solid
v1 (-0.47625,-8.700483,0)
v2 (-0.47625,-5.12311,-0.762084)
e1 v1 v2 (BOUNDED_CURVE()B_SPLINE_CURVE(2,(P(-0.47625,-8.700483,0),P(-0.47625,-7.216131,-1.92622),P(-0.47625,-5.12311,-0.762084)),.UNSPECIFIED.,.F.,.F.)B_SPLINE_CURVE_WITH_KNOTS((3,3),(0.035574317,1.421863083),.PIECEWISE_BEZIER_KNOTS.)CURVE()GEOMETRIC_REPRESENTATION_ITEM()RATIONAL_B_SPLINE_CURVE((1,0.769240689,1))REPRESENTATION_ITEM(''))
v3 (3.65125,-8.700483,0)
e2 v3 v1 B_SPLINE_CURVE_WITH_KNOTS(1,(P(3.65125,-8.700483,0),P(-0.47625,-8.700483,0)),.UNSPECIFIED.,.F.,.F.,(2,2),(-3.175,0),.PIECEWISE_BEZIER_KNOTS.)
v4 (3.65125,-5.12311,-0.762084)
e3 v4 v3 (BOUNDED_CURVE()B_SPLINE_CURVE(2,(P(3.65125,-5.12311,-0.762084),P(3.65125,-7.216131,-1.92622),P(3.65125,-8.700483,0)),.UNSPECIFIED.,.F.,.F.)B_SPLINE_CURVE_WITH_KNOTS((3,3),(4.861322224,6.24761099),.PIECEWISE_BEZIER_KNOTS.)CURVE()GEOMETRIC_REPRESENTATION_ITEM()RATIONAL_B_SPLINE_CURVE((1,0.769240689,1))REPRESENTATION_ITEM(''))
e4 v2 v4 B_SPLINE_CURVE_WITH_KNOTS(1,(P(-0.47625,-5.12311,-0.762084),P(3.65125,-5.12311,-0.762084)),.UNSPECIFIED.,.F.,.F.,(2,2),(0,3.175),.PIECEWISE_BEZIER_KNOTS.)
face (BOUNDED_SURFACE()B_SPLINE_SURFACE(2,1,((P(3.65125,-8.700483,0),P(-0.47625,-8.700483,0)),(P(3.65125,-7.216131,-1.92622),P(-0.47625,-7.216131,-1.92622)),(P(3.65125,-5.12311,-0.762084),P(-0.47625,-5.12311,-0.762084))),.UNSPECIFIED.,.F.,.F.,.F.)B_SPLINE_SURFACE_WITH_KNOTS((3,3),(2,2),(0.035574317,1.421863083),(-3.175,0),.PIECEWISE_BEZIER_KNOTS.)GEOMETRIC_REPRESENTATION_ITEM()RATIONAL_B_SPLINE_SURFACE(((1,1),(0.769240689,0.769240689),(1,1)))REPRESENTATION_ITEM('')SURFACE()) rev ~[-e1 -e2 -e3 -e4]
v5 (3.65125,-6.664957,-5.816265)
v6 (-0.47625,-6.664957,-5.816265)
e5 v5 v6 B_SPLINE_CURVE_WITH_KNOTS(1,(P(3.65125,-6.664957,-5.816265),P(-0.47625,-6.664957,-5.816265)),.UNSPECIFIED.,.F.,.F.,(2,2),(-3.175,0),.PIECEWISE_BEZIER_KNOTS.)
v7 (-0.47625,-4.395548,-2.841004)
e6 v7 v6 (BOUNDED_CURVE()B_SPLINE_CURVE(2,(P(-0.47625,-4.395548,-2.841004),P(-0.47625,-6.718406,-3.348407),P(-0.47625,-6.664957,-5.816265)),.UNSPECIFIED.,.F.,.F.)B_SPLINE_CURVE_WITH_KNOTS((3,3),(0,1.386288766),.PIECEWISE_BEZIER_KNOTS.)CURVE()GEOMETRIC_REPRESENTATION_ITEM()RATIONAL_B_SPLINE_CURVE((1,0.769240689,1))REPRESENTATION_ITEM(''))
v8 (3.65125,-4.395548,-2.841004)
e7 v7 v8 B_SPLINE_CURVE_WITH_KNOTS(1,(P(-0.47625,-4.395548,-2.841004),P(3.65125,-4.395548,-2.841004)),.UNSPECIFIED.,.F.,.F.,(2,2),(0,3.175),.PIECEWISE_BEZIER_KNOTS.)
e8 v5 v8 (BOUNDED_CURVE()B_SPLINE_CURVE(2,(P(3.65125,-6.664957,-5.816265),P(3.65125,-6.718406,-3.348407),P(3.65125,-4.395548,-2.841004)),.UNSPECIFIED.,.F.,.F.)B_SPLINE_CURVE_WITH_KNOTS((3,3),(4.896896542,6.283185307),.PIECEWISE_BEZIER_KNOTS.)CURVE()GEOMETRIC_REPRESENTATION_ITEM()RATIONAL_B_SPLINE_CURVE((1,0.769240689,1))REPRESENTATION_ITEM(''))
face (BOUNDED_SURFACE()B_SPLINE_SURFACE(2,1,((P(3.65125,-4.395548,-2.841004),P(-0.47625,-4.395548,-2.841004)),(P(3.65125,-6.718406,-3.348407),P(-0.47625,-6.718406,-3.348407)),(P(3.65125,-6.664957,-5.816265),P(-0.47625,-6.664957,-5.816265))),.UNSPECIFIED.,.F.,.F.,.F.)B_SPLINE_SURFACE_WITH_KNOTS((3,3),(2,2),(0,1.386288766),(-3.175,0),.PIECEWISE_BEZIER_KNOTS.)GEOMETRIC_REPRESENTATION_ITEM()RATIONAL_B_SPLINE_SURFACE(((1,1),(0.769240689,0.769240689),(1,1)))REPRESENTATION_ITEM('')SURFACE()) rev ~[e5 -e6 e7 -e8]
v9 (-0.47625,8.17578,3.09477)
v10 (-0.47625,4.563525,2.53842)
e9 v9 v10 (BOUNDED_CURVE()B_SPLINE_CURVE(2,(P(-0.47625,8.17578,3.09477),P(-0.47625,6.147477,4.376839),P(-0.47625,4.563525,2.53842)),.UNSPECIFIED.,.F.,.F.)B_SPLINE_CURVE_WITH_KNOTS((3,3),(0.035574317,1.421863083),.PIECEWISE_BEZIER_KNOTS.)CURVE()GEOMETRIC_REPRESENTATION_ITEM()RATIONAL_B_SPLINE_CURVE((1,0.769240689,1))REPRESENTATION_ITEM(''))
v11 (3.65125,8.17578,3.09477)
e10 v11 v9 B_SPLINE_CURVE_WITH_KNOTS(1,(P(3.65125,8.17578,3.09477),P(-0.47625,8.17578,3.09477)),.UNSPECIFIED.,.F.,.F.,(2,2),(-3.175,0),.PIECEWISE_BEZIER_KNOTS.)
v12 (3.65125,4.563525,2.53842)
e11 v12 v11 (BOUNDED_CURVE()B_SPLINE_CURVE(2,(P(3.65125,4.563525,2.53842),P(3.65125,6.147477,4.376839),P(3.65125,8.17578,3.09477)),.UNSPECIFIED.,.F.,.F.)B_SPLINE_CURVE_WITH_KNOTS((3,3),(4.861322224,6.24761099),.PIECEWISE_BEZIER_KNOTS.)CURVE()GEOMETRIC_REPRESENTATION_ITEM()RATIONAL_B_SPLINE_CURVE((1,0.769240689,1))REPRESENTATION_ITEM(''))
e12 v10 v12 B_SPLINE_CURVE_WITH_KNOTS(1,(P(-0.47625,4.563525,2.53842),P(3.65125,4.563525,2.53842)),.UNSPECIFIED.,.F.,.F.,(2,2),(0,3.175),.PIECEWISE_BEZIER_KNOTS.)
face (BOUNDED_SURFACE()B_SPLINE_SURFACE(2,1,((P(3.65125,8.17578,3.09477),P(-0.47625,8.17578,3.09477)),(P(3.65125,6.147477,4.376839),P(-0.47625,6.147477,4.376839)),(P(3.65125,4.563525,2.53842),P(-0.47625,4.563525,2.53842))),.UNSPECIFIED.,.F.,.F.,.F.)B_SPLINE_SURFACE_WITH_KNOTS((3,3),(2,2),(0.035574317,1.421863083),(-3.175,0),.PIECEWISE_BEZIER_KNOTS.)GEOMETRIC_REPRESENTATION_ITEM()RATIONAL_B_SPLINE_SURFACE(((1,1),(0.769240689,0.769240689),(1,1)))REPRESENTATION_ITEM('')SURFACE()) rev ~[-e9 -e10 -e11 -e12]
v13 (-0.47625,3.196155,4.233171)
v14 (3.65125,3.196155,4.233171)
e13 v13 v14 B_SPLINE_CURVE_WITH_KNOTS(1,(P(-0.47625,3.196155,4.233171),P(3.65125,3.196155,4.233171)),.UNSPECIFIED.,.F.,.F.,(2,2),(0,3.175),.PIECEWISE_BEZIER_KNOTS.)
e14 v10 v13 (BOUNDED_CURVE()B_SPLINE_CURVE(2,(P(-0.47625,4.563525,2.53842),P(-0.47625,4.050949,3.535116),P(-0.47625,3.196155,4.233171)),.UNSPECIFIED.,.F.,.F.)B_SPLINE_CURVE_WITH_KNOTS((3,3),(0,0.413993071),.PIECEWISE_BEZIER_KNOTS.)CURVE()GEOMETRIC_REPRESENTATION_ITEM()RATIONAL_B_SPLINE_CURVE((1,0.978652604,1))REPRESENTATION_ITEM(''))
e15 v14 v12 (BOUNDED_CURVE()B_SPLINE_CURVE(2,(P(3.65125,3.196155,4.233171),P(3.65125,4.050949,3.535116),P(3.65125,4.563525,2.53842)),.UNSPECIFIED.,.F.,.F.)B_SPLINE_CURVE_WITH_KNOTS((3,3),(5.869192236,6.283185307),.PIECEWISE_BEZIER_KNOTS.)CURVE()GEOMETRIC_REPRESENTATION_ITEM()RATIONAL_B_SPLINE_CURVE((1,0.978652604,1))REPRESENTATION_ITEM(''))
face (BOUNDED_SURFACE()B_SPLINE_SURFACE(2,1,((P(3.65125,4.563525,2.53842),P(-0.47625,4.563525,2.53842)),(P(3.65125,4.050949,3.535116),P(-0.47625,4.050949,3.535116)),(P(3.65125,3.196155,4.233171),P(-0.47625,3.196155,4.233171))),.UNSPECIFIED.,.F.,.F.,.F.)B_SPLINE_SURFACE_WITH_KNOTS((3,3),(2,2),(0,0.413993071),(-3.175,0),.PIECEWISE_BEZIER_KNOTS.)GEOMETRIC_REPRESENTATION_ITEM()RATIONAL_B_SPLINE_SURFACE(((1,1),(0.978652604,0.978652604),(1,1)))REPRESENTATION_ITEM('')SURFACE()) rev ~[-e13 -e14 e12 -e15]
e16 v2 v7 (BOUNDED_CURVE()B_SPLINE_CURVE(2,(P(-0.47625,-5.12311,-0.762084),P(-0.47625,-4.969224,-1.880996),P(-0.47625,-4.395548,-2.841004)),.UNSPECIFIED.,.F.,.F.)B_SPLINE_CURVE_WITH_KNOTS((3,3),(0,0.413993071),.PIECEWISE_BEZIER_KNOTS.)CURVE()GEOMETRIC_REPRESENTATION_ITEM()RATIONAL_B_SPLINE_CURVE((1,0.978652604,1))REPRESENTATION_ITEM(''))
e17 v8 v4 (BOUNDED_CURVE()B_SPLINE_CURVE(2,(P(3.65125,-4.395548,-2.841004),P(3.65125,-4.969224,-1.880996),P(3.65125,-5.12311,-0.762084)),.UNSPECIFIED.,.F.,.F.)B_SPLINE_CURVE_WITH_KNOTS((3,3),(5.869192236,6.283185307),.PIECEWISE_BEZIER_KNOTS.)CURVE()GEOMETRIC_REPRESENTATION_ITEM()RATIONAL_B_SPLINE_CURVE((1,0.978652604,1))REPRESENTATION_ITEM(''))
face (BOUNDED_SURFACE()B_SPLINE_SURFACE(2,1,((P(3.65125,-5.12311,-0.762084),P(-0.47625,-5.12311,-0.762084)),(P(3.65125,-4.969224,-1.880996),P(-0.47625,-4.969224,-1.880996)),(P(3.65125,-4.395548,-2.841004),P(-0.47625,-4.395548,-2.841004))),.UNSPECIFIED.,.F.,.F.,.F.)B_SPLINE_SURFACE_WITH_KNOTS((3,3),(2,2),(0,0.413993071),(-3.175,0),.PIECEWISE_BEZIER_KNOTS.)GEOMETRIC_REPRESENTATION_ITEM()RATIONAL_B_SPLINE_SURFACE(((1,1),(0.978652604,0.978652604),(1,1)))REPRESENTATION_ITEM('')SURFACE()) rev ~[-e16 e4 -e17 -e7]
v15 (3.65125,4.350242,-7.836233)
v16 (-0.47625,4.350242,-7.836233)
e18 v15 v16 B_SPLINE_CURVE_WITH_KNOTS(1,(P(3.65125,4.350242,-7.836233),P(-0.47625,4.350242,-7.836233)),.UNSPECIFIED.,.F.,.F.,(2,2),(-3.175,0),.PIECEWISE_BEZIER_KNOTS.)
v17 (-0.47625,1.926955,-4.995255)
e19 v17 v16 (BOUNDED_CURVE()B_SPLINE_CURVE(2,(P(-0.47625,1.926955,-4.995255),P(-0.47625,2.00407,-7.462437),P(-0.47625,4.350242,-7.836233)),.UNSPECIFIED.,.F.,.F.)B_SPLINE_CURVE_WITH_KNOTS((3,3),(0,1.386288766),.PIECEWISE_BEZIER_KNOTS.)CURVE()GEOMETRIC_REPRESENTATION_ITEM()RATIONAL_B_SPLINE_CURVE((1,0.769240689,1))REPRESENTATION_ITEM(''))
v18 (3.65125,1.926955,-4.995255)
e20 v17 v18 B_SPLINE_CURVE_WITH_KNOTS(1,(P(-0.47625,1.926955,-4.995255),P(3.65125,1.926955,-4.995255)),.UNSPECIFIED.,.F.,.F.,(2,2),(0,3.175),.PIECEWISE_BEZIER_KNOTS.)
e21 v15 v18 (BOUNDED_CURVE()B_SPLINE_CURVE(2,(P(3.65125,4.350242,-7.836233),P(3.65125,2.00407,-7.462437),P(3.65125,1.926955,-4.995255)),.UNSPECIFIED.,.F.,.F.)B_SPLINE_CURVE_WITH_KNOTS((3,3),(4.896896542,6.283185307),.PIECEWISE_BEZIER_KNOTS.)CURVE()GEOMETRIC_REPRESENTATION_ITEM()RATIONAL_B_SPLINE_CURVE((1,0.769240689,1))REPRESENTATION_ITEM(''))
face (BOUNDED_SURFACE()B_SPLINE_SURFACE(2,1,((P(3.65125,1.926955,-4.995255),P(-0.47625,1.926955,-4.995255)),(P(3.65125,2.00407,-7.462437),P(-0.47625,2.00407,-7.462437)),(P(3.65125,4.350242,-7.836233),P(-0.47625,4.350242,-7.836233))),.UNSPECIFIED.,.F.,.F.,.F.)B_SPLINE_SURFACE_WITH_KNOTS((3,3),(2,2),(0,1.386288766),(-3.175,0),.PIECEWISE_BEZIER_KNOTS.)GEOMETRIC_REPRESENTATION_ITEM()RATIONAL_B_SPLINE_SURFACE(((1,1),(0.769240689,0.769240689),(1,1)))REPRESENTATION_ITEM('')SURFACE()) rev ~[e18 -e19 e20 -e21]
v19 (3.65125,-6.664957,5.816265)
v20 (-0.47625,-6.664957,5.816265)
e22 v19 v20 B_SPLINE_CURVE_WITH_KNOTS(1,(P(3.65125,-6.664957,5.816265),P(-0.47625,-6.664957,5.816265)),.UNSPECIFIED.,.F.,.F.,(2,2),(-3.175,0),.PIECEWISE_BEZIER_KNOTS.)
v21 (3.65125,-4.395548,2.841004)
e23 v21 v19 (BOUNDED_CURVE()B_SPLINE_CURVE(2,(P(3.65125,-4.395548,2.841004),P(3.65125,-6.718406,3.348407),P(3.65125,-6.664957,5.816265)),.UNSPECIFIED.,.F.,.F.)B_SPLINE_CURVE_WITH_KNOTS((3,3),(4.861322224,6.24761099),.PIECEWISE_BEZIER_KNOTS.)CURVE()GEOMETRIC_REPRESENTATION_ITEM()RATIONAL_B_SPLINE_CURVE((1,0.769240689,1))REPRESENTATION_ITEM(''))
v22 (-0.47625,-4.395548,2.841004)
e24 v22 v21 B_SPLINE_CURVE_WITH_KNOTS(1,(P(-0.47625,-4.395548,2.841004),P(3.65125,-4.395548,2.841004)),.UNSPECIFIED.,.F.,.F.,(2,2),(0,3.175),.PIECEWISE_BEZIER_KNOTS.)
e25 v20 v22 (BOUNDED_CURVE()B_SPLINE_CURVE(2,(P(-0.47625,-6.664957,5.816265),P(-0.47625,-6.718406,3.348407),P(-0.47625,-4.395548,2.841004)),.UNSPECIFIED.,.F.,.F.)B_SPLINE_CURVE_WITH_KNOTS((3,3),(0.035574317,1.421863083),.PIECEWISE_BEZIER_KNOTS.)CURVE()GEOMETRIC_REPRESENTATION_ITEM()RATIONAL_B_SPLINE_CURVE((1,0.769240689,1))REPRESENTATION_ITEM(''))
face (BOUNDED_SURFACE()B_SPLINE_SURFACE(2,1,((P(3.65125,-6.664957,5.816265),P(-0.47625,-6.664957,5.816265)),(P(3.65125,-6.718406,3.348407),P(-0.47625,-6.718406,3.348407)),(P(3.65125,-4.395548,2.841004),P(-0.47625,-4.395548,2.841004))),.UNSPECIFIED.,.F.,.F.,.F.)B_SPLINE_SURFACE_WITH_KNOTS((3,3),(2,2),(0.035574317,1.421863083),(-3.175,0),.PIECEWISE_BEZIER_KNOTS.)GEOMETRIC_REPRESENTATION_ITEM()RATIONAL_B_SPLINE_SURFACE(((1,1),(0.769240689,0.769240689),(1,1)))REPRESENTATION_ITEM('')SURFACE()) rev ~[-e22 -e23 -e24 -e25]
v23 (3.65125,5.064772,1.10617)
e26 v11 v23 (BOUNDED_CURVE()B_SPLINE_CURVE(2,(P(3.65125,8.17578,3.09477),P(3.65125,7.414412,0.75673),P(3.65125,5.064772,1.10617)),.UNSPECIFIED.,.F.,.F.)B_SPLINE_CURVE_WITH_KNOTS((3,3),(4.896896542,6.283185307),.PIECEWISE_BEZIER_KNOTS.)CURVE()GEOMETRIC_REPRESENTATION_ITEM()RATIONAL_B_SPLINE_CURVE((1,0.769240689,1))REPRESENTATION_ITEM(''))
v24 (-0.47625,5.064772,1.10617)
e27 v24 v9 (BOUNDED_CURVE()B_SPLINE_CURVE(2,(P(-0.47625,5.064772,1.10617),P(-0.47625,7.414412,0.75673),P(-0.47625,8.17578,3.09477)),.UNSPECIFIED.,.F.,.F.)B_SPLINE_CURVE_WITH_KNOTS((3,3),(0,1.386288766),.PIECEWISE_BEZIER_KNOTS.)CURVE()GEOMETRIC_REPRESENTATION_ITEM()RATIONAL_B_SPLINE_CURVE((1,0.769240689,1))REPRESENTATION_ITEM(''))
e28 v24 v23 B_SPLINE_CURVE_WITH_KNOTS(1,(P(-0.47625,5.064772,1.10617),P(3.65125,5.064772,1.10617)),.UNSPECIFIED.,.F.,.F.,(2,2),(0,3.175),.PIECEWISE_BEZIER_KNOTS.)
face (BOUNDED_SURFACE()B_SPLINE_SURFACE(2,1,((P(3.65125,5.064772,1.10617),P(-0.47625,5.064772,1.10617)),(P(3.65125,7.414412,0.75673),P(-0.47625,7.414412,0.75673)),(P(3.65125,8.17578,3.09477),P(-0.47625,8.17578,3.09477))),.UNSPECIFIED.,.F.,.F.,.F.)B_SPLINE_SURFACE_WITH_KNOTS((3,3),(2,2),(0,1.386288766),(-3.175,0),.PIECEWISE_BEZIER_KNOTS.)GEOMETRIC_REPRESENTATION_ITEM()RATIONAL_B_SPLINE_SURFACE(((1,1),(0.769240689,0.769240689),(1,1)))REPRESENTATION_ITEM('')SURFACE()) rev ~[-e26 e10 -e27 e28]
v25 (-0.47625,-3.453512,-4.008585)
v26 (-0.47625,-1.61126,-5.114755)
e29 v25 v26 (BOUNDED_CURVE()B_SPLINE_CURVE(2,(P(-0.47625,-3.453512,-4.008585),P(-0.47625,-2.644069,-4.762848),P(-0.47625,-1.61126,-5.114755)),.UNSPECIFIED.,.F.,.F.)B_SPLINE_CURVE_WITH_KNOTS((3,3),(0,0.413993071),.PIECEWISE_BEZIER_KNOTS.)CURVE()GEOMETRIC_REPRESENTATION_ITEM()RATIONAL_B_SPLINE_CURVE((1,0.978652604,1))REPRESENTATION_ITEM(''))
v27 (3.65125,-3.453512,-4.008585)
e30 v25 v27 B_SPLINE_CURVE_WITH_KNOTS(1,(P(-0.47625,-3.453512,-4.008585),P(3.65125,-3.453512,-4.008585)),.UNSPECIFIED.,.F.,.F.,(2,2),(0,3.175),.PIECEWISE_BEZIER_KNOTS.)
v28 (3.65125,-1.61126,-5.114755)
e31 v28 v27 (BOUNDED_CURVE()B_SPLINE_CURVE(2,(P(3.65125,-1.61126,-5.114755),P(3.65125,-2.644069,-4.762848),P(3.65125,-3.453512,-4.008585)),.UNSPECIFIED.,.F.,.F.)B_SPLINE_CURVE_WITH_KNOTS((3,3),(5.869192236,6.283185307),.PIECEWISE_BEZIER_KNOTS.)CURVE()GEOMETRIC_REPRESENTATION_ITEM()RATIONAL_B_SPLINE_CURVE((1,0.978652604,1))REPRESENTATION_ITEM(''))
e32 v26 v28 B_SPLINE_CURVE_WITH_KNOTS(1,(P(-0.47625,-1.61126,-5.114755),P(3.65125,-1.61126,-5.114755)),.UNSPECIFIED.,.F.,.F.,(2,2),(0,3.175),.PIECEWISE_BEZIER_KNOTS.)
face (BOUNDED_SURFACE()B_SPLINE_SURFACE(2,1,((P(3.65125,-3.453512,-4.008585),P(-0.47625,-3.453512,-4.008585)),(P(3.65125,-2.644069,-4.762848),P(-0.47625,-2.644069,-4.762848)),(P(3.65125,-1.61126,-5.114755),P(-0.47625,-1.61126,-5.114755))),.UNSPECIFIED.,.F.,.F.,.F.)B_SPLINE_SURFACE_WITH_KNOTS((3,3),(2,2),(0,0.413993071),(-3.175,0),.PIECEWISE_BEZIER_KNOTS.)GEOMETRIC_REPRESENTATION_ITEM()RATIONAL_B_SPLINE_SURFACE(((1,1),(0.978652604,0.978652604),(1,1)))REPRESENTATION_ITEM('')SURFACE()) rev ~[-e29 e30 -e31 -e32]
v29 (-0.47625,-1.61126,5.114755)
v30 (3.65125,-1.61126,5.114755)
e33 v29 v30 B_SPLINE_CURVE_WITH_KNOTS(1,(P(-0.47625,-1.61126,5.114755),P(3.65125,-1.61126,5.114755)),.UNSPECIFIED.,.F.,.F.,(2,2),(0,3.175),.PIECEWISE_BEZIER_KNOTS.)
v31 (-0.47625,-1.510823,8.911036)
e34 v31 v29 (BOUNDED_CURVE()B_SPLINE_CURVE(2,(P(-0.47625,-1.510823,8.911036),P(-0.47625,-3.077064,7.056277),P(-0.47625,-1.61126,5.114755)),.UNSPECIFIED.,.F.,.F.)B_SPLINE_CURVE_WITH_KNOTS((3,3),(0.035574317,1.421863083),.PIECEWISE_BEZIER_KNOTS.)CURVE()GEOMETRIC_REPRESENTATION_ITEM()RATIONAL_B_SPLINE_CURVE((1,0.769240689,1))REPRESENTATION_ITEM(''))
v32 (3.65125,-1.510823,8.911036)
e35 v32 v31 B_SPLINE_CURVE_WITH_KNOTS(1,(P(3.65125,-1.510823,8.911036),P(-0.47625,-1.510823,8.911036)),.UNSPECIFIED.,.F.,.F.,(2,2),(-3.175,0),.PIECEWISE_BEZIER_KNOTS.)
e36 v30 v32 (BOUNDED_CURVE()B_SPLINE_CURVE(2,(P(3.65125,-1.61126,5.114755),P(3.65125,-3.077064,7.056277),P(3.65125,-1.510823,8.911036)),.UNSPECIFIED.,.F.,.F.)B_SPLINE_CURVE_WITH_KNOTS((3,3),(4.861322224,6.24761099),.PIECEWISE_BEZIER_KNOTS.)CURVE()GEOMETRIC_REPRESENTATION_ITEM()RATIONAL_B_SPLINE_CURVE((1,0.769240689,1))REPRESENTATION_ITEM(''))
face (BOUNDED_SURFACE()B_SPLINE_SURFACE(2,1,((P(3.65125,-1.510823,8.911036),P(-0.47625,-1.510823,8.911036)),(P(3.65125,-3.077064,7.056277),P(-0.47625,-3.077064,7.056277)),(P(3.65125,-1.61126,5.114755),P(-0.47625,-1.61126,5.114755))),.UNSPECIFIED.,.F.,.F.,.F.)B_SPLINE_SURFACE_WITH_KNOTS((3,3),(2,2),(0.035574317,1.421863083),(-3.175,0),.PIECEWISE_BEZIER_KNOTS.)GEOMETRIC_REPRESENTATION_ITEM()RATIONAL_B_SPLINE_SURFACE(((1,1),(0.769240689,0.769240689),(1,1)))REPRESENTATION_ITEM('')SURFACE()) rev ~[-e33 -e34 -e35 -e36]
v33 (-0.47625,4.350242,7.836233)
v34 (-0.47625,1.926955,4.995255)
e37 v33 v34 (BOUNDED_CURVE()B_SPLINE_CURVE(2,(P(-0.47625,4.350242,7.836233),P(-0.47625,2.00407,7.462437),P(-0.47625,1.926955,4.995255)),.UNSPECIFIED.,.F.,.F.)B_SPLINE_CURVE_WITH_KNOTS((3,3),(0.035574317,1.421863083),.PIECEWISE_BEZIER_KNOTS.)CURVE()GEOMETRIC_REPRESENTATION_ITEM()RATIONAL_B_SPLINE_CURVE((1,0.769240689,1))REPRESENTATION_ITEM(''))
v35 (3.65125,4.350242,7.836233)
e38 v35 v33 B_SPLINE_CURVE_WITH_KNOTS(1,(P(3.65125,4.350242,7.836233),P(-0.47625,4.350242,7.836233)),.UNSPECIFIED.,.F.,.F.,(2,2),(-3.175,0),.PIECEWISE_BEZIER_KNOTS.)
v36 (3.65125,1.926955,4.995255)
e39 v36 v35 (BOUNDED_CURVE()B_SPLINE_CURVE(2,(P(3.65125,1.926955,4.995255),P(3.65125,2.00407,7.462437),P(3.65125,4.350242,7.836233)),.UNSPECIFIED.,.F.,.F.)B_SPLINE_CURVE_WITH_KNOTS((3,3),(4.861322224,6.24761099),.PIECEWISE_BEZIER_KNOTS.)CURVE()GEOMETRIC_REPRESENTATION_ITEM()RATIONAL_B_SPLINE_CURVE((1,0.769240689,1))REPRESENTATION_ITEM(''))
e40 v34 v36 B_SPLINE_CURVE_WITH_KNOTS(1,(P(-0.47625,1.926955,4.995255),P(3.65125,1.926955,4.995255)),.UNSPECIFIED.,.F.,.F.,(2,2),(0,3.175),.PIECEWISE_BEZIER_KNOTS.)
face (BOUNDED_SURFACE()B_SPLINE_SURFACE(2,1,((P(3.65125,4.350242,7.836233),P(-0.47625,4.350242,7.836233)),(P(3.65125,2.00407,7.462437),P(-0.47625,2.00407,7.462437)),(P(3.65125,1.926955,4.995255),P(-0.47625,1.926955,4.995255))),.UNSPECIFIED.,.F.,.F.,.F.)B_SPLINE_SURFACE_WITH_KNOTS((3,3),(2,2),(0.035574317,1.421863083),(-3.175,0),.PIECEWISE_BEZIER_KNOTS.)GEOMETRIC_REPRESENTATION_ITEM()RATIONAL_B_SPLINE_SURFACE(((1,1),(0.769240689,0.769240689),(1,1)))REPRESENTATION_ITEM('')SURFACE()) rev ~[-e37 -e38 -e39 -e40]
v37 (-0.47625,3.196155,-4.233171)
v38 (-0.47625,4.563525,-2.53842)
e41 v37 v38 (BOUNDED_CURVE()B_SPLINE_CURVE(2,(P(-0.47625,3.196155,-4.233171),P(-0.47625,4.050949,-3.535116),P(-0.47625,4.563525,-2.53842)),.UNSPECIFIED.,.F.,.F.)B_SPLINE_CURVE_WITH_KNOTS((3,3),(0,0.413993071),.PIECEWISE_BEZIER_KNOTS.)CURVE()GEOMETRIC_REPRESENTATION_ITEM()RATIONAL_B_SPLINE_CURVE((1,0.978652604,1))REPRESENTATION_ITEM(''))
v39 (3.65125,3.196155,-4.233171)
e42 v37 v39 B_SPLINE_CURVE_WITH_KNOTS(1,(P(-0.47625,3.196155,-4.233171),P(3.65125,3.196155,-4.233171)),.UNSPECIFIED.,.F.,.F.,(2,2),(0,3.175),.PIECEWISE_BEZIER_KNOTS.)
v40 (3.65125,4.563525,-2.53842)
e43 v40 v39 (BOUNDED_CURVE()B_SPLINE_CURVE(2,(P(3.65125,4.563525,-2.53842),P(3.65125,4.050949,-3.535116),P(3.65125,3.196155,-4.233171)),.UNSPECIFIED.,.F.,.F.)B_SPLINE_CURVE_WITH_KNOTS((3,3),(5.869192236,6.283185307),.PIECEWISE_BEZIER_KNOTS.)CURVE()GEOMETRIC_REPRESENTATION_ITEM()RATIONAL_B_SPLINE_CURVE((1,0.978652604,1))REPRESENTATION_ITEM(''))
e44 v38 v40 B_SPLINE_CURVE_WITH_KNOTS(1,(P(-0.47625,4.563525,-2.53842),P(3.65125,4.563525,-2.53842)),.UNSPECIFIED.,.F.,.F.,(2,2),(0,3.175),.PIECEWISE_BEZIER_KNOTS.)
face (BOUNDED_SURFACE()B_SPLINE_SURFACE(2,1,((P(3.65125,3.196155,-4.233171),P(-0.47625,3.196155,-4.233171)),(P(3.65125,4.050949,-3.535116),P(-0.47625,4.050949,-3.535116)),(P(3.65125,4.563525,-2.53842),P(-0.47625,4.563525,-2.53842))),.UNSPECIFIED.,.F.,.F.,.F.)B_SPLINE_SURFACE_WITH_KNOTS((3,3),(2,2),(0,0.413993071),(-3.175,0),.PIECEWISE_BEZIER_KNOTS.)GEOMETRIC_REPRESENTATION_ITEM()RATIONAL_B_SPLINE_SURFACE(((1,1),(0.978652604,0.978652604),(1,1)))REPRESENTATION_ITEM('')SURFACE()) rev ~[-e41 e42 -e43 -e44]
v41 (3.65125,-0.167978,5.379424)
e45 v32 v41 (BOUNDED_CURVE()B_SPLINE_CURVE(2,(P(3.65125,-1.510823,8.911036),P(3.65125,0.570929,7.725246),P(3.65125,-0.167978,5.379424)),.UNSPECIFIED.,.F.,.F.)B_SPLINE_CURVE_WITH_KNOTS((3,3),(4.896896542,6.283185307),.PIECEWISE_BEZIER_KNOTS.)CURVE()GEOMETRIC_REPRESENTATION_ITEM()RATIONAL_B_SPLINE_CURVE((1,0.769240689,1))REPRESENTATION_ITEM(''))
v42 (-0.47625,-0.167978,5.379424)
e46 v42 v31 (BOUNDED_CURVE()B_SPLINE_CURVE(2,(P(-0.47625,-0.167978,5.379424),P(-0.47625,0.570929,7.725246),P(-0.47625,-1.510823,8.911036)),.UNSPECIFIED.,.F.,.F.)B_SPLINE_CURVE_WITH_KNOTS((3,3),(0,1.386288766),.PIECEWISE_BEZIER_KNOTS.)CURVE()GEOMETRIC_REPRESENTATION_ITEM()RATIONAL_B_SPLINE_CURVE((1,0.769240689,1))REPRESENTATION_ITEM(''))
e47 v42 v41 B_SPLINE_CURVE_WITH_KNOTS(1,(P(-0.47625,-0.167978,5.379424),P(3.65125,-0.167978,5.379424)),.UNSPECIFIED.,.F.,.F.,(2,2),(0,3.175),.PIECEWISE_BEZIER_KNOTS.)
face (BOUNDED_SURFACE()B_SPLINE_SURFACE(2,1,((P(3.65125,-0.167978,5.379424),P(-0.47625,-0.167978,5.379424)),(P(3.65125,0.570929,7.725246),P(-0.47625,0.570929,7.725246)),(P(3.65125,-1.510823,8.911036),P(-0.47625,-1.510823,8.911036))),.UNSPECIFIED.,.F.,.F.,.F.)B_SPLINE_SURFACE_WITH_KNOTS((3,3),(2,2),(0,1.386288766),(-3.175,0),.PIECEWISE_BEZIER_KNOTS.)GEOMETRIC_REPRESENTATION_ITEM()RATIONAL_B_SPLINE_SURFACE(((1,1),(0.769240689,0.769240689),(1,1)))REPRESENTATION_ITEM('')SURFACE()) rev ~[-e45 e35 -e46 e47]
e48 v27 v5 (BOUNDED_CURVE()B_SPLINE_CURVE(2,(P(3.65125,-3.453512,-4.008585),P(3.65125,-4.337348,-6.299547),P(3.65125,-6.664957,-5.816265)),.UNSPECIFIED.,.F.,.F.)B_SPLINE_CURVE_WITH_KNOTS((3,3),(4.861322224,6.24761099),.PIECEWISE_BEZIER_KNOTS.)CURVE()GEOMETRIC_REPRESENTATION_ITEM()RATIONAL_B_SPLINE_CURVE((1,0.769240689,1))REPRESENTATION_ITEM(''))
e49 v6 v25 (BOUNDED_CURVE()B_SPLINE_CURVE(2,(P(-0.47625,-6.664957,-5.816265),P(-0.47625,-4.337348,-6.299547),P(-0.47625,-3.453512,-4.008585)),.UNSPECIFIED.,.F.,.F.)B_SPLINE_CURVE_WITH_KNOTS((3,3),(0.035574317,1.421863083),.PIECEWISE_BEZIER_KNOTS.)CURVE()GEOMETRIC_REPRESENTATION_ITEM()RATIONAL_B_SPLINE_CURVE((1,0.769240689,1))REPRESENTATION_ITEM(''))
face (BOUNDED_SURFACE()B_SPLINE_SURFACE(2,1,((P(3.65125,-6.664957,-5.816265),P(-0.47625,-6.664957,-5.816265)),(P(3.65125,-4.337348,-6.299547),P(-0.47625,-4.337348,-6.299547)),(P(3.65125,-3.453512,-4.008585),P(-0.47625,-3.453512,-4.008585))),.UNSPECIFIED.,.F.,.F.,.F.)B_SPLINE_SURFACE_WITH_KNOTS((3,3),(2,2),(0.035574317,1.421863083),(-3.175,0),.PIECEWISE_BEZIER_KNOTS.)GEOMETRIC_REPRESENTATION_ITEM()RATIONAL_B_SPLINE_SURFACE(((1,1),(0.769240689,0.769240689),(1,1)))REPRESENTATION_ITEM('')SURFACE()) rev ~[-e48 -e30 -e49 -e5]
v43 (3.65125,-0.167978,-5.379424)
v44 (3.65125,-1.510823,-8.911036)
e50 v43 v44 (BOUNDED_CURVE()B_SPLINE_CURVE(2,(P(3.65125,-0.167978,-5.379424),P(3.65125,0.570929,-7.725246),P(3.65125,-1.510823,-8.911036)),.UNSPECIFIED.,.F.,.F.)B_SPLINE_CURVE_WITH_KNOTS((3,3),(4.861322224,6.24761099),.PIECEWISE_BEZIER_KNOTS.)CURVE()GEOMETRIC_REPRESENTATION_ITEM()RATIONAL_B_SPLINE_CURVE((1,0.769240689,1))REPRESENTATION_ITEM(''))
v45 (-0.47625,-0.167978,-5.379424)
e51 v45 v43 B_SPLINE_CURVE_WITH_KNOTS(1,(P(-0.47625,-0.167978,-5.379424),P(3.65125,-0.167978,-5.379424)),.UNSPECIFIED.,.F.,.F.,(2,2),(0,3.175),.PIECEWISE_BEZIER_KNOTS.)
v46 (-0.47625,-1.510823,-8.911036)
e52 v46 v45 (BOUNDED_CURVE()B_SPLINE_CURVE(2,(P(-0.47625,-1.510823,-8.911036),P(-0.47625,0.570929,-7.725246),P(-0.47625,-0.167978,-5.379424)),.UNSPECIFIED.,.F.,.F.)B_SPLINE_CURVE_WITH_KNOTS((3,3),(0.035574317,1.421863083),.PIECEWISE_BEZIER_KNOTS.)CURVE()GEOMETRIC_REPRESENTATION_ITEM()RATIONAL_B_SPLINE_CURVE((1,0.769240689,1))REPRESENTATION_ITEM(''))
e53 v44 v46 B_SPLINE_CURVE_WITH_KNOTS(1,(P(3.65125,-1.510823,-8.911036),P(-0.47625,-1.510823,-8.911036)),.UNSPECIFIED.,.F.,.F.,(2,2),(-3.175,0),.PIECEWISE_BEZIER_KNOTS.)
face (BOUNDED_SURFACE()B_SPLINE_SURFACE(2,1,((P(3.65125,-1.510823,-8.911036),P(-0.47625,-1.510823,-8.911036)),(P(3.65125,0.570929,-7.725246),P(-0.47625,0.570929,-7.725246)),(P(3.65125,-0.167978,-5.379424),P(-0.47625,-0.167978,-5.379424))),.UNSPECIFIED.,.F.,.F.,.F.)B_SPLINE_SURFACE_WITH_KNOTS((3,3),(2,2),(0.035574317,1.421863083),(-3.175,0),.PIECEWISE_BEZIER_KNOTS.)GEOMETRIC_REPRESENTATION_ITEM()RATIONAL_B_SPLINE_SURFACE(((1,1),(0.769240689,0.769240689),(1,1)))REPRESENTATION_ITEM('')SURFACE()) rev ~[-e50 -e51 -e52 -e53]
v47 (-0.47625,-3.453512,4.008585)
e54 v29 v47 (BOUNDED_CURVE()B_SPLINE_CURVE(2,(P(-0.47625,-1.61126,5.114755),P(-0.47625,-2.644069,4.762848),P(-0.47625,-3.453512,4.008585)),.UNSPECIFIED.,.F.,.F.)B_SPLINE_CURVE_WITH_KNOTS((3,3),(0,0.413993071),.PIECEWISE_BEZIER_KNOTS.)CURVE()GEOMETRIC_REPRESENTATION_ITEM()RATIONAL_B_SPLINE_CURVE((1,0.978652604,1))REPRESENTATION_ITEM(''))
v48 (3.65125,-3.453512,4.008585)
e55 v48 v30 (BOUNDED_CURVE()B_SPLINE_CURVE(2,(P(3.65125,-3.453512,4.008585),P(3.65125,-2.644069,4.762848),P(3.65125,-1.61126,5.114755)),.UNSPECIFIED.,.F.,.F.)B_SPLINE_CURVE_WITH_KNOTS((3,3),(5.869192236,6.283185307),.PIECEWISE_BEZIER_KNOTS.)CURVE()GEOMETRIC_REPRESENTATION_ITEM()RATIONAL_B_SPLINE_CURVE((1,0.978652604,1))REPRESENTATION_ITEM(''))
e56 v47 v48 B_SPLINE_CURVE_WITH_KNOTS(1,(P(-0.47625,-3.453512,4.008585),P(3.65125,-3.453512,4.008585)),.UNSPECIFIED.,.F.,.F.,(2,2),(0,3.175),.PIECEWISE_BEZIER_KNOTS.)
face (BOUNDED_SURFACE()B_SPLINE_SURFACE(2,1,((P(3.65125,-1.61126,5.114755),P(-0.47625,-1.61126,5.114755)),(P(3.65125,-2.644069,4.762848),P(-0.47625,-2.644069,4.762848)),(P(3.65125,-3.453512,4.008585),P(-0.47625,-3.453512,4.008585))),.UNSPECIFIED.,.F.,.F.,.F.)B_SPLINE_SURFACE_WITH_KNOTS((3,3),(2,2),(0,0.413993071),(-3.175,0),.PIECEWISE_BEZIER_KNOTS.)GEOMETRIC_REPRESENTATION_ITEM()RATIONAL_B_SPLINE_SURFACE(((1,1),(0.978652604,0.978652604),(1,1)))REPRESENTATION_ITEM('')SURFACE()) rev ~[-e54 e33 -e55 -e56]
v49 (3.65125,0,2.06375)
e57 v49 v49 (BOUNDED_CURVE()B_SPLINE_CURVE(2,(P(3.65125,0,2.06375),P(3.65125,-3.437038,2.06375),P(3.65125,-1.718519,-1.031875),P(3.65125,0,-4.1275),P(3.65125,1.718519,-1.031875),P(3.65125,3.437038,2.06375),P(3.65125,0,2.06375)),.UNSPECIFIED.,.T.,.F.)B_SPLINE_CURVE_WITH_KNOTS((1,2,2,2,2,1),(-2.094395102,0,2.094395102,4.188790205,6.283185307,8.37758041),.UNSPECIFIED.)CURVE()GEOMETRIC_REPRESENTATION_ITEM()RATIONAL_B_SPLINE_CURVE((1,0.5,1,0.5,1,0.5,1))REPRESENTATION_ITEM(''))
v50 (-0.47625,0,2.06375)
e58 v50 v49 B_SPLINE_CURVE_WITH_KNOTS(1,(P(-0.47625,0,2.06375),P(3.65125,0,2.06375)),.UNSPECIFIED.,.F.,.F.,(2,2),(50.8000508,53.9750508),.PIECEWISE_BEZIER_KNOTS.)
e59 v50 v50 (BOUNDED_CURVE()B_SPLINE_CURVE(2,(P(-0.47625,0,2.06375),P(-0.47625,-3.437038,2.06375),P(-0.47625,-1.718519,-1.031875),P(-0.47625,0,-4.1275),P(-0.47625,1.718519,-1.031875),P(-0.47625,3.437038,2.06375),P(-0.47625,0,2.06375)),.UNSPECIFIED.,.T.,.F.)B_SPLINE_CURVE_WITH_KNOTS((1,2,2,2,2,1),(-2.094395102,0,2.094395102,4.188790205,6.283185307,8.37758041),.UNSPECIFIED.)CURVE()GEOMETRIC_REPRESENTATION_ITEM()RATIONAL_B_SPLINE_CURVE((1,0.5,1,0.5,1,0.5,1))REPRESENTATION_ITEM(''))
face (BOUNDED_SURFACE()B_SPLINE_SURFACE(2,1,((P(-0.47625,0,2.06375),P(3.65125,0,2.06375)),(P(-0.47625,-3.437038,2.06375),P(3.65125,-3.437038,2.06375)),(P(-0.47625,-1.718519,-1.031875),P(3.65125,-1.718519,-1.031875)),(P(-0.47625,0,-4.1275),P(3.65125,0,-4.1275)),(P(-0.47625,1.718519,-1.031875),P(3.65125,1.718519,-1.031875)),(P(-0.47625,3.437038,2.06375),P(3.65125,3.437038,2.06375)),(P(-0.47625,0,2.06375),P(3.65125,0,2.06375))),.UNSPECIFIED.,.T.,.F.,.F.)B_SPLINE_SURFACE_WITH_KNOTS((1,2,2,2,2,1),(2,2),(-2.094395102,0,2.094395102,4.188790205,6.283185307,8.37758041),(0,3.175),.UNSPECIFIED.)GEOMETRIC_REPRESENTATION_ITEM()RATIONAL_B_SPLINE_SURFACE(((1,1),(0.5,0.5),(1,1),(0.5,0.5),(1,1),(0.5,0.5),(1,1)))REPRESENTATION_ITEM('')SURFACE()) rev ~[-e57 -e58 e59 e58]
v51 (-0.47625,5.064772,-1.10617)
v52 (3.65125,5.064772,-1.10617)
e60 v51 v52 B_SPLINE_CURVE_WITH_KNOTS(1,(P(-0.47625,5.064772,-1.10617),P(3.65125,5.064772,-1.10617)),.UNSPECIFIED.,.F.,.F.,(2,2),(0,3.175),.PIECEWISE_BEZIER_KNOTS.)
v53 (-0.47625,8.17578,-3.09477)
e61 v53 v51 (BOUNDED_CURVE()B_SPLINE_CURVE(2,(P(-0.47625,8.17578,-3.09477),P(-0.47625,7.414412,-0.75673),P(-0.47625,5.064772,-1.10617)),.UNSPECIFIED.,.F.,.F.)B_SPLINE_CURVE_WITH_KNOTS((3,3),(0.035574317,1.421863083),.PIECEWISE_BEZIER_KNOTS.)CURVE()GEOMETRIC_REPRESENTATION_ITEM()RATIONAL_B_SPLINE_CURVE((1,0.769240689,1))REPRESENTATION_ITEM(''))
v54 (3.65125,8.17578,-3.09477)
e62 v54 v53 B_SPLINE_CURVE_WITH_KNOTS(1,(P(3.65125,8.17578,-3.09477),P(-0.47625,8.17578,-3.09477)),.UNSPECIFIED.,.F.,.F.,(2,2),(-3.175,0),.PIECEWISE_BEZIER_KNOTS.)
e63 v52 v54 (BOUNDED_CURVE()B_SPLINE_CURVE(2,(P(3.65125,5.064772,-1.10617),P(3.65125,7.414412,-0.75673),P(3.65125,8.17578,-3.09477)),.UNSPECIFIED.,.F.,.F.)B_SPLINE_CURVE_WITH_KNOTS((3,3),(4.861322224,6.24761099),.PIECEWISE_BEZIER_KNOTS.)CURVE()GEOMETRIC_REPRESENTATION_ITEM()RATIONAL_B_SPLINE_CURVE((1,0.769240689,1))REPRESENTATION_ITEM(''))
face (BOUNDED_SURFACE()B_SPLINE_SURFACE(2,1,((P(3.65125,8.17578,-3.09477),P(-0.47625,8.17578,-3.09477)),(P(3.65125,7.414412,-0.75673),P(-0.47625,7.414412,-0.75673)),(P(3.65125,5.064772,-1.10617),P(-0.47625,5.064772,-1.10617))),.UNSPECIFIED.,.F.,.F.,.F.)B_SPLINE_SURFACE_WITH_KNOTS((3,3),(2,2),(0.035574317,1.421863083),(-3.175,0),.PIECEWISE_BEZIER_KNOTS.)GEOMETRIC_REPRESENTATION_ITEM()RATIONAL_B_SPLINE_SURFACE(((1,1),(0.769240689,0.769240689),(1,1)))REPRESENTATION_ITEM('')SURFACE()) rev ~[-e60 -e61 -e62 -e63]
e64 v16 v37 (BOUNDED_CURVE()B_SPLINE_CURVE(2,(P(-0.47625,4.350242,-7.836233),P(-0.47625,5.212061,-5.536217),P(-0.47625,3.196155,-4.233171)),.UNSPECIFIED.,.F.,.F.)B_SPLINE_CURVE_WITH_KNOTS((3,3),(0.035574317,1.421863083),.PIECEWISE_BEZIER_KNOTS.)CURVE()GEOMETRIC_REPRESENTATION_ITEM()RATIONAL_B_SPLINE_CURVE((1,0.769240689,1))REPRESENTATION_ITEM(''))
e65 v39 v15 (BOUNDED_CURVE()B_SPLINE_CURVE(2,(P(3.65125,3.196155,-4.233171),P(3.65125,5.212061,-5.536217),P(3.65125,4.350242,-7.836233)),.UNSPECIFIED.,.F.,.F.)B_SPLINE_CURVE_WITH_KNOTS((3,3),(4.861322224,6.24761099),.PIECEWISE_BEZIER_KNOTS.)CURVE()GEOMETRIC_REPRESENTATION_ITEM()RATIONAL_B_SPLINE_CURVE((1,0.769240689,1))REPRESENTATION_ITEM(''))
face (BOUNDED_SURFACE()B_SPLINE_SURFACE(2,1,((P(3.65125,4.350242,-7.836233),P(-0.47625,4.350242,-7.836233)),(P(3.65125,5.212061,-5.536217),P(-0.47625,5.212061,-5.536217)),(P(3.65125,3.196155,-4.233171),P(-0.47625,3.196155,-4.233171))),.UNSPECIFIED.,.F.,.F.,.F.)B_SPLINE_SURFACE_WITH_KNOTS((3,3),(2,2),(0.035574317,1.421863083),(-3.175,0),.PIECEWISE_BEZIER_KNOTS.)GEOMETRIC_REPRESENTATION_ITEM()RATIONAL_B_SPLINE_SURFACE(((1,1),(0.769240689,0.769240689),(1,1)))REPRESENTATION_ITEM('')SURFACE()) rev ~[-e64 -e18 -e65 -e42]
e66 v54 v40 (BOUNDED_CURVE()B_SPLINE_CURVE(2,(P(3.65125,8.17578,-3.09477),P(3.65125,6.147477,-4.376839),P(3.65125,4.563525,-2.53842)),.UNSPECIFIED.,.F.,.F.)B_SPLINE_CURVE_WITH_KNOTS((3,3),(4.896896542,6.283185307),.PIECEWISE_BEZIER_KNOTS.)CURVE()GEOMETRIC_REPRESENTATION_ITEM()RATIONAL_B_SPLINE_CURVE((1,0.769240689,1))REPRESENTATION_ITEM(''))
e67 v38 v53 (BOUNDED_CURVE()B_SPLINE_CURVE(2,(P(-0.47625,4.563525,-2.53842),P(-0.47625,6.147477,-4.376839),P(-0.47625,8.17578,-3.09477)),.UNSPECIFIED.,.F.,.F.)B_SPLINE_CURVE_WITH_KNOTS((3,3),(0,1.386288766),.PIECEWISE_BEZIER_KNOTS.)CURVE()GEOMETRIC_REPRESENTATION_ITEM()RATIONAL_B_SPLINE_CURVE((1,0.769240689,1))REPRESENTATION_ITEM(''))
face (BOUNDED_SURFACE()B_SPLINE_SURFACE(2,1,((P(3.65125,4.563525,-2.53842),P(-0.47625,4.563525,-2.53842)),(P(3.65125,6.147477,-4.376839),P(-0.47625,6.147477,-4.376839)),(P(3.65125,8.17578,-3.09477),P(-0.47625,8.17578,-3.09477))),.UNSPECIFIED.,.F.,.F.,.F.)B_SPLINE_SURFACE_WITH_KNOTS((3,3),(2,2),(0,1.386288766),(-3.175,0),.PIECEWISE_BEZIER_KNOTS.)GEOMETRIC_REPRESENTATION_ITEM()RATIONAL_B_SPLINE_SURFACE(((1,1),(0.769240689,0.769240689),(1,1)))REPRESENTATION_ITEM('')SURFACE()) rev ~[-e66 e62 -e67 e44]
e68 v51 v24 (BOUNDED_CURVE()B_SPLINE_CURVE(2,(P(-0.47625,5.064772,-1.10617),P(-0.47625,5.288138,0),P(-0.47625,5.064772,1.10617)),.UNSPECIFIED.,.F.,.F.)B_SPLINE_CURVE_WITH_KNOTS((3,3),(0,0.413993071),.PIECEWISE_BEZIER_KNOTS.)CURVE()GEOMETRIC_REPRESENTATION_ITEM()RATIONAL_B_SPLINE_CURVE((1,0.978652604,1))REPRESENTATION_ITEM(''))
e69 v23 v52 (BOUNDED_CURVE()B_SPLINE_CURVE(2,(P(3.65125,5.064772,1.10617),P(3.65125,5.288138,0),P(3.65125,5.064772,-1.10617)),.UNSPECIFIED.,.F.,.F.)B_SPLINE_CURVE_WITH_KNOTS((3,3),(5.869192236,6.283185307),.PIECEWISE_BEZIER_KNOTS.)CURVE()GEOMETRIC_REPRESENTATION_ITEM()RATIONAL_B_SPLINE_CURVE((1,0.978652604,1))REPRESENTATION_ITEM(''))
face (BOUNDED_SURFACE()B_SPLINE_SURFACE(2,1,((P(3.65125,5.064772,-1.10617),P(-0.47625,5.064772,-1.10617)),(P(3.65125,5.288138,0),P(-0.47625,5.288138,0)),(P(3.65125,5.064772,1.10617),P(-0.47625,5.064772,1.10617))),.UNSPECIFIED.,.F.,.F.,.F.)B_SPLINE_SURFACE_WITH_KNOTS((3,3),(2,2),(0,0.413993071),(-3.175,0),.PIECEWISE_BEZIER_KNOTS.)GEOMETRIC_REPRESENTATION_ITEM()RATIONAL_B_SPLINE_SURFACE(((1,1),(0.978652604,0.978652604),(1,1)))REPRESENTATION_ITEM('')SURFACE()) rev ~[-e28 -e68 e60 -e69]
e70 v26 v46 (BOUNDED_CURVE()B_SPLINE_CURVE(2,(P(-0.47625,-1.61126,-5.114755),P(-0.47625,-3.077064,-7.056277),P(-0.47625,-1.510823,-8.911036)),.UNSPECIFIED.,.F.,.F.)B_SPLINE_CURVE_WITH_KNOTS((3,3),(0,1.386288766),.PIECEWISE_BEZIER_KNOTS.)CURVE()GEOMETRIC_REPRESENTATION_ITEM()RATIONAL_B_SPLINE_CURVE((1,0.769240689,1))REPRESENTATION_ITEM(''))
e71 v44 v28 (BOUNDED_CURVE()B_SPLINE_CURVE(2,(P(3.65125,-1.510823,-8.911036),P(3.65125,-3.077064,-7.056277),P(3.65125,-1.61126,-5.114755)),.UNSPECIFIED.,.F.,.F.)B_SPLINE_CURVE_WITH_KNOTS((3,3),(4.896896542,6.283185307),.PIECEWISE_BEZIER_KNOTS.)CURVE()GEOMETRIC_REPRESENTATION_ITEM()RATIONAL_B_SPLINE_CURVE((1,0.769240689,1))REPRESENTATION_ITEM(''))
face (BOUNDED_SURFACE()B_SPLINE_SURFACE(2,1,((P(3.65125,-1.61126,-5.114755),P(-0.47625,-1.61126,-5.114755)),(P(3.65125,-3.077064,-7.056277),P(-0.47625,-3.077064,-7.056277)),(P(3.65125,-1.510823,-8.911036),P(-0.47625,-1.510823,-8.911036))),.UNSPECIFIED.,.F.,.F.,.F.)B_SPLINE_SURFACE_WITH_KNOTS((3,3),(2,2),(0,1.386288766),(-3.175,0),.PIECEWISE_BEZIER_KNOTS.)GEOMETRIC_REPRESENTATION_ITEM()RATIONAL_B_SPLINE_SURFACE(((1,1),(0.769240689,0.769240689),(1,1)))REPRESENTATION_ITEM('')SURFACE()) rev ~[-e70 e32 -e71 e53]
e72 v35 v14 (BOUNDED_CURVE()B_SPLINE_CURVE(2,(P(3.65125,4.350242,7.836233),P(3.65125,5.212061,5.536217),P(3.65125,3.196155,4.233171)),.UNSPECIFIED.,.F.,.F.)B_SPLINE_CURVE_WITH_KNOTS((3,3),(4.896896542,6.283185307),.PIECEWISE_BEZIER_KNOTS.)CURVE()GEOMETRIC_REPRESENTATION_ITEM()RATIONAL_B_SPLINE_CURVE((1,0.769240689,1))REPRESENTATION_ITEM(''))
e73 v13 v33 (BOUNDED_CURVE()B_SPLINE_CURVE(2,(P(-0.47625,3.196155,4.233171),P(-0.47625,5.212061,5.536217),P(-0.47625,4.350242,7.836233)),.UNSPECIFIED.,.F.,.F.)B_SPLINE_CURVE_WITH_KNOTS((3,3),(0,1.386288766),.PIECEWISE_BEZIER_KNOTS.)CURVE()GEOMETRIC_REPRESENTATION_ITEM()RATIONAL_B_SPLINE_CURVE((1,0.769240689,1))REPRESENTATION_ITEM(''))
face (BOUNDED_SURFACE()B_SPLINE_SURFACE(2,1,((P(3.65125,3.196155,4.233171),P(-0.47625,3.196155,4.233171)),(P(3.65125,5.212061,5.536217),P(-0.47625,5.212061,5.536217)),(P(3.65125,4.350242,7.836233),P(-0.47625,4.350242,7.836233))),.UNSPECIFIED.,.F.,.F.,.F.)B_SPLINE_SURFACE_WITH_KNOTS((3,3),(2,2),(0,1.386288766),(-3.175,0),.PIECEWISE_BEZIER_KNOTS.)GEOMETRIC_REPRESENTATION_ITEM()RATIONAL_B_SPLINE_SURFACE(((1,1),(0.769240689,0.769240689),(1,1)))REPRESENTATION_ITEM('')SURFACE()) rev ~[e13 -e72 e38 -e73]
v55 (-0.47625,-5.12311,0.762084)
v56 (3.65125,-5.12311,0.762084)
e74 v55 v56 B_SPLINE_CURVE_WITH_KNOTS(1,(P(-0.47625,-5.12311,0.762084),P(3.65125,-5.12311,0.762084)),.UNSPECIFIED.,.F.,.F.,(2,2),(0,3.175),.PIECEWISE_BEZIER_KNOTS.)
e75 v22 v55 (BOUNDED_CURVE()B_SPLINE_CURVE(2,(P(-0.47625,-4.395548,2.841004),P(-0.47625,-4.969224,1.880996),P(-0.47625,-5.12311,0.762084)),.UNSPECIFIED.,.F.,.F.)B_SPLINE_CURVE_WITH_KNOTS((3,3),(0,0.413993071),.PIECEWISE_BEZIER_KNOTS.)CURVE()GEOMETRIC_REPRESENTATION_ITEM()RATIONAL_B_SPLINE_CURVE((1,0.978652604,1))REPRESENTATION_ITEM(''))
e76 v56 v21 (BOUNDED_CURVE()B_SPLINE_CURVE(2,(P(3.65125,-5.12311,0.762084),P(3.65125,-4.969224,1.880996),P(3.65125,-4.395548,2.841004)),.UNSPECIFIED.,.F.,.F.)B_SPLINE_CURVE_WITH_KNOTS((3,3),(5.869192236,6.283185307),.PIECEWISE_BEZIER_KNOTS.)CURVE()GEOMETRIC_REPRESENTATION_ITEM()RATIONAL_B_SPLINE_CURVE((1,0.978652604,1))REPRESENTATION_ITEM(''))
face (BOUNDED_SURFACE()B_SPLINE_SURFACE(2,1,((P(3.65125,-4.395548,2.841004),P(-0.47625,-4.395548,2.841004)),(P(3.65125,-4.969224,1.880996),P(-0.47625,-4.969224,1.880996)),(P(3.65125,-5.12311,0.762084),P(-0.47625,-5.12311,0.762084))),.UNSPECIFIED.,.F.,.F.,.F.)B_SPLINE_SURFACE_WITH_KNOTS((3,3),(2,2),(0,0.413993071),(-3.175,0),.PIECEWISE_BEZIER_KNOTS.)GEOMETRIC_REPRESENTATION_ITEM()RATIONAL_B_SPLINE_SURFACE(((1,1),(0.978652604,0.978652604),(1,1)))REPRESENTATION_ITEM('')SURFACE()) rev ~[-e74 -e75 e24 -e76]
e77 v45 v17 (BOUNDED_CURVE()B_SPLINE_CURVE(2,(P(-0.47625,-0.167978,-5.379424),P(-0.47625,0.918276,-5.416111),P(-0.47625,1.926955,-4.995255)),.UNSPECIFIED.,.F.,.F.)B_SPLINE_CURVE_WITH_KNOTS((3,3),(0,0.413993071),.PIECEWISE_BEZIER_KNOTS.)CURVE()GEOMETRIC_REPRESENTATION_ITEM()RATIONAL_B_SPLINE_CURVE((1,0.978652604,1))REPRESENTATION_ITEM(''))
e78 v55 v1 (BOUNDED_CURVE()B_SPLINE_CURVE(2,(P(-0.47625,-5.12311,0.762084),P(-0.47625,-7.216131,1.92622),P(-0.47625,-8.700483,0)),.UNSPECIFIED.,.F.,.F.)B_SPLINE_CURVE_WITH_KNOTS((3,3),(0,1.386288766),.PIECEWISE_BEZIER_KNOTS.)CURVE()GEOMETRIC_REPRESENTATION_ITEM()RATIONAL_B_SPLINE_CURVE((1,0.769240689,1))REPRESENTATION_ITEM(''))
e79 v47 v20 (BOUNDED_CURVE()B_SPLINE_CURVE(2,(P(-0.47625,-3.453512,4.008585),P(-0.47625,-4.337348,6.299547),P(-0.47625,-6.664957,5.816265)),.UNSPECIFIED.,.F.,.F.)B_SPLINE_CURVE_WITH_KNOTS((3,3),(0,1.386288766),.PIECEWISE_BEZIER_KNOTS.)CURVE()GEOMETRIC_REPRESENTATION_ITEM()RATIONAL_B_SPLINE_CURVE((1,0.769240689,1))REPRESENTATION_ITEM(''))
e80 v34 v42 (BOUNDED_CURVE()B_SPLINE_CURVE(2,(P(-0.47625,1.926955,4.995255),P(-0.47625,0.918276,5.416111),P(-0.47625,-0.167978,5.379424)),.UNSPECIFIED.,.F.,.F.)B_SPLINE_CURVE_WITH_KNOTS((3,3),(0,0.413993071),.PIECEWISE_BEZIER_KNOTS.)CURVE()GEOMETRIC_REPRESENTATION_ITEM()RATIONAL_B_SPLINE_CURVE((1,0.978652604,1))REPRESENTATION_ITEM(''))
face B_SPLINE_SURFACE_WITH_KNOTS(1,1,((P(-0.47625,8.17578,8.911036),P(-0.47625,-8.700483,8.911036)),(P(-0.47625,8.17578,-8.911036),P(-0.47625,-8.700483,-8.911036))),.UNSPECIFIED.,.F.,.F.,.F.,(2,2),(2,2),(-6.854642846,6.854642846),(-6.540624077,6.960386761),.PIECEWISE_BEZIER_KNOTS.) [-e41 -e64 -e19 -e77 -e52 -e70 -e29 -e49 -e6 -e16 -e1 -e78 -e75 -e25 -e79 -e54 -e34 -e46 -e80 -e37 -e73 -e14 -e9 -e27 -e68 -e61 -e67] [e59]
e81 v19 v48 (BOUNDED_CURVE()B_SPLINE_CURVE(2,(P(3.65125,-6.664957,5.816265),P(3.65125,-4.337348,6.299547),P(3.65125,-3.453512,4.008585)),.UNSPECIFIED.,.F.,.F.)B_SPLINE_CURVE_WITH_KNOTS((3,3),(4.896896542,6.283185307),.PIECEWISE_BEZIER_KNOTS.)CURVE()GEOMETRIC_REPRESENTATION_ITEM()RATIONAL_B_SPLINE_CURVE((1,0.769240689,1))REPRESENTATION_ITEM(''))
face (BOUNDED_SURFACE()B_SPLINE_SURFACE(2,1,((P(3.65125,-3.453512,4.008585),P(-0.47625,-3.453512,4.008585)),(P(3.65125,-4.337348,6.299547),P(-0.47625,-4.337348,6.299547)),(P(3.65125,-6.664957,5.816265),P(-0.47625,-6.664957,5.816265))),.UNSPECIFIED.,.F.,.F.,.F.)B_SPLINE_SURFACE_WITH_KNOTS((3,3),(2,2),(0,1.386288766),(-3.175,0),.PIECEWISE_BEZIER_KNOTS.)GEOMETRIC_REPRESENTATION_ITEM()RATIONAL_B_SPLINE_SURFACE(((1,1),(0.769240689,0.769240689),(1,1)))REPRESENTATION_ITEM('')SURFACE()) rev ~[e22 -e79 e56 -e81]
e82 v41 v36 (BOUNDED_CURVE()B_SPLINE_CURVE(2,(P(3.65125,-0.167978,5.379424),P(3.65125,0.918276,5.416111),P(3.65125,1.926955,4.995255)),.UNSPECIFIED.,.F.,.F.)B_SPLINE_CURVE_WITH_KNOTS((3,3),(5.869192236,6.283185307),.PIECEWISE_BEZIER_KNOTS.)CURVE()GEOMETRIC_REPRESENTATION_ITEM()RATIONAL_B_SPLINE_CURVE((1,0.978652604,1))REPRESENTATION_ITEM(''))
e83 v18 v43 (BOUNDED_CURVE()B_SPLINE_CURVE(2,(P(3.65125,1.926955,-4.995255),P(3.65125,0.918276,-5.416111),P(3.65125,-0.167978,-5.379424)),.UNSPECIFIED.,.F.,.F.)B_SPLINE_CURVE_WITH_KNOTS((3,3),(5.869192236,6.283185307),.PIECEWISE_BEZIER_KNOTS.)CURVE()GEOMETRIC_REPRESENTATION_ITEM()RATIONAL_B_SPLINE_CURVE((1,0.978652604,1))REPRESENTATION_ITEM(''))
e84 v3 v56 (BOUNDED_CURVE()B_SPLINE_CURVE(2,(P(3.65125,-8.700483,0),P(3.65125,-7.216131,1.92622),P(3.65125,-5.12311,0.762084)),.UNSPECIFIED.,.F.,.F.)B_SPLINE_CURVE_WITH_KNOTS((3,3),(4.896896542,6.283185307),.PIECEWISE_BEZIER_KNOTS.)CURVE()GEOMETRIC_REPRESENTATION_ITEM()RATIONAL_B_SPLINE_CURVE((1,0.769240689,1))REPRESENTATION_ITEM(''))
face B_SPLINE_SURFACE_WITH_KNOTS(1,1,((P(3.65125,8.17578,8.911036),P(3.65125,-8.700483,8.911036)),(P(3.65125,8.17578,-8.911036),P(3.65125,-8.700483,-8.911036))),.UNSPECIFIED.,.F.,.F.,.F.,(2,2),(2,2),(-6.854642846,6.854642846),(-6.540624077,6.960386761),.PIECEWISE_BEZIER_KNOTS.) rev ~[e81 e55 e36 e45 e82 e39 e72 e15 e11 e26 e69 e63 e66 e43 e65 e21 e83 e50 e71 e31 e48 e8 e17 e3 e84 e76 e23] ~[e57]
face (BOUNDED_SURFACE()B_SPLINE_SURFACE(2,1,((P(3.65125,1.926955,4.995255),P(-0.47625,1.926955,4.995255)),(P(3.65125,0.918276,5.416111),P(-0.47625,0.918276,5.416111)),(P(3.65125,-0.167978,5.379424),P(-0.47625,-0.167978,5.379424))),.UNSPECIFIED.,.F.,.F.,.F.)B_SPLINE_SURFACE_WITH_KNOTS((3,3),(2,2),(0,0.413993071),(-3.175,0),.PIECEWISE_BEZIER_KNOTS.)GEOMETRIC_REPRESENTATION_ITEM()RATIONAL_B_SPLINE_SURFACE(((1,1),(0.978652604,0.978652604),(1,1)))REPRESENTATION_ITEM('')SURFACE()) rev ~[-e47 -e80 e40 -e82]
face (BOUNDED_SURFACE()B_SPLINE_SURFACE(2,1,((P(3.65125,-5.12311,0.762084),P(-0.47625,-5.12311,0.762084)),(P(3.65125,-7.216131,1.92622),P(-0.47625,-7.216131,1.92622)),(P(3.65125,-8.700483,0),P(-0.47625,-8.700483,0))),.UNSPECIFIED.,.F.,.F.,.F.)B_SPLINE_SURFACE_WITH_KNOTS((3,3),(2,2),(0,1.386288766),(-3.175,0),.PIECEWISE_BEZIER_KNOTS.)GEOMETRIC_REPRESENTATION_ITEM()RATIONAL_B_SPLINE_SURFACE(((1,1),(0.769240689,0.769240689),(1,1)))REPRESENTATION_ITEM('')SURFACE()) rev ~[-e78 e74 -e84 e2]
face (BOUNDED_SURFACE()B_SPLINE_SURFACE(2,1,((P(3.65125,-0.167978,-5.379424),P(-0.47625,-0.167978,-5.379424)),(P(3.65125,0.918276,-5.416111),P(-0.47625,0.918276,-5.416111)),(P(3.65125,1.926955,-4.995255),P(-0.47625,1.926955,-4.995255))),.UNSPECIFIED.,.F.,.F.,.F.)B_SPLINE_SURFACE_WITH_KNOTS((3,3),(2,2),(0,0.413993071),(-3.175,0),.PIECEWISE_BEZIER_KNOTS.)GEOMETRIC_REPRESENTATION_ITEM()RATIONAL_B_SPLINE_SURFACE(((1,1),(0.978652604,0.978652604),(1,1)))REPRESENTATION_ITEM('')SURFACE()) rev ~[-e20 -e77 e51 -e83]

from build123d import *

# Parameters (mm, degrees)
BASPROSKE_W     = 3.175
BASPROSKE_H     = 6.985
TOOTHCUT_DEPTH  = 11.375985495
TEETHCUTS_COUNT = 9
BORSKE_R        = 1.5875
BORE_DEPTH      = 50.8000508
SCALE1_SCALE_X  = 1.3
SCALE1_SCALE_Y  = 1.25
SCALE1_SCALE_Z  = 1.3


with BuildPart() as part:
    # BasProSke → Base-Revolve (revolve)
    with BuildSketch(Plane(origin=(0, 0, 0), x_dir=(1, 0, 0), z_dir=(0, 1, 0)), mode=Mode.PRIVATE) as base_revolve_sk:
        with Locations((1.5875, 3.4925)):
            Rectangle(BASPROSKE_W, BASPROSKE_H)
    revolve(base_revolve_sk.sketch.rotate(Axis((-10, 0, 0), (1, 0, 0)), 180), axis=Axis((-10, 0, 0), (1, 0, 0)))

    # TooCutSke → ToothCut (cut, through all)
    with BuildSketch(Plane(origin=(0, 0, 0), x_dir=(0, 0, -1), z_dir=(1, 0, 0))):
        with BuildLine():
            ThreePointArc((0.85090004, 4.051817513), (0, 4.1402), (-0.85090004, 4.051817513))
            ThreePointArc((-0.85090004, 4.051817513), (-1.187930048, 5.606894235), (-2.458065659, 6.565334826))
            ThreePointArc((-2.458065659, 6.565334826), (0, 7.0104), (2.458065659, 6.565334826))
            ThreePointArc((2.458065659, 6.565334826), (1.187930048, 5.606894235), (0.85090004, 4.051817513))
        make_face()
    toothcut = extrude(amount=TOOTHCUT_DEPTH, mode=Mode.SUBTRACT)

    # TeethCuts: ToothCut ×9 about axis
    teethcuts_axis = Axis((-10, 0, 0), (1, 0, 0))
    for i in range(1, TEETHCUTS_COUNT):
        add(toothcut.rotate(teethcuts_axis, i * 360 / TEETHCUTS_COUNT), mode=Mode.SUBTRACT)

    # BorSke → Bore (cut, symmetric)
    with BuildSketch(Plane(origin=(0, 0, 0), x_dir=(0, 0, -1), z_dir=(1, 0, 0))):
        with Locations(Location((0, 0, 0), (0, 0, 180))):
            Circle(BORSKE_R)
    extrude(amount=BORE_DEPTH, both=True, mode=Mode.SUBTRACT)


with BuildPart() as part_1:
    # Scale1: scaled about (1.5875, 0, 0)
    add(part.part.scale((SCALE1_SCALE_X, SCALE1_SCALE_Y, SCALE1_SCALE_Z), about=(1.5875, 0, 0)))


solid = part_1.part
